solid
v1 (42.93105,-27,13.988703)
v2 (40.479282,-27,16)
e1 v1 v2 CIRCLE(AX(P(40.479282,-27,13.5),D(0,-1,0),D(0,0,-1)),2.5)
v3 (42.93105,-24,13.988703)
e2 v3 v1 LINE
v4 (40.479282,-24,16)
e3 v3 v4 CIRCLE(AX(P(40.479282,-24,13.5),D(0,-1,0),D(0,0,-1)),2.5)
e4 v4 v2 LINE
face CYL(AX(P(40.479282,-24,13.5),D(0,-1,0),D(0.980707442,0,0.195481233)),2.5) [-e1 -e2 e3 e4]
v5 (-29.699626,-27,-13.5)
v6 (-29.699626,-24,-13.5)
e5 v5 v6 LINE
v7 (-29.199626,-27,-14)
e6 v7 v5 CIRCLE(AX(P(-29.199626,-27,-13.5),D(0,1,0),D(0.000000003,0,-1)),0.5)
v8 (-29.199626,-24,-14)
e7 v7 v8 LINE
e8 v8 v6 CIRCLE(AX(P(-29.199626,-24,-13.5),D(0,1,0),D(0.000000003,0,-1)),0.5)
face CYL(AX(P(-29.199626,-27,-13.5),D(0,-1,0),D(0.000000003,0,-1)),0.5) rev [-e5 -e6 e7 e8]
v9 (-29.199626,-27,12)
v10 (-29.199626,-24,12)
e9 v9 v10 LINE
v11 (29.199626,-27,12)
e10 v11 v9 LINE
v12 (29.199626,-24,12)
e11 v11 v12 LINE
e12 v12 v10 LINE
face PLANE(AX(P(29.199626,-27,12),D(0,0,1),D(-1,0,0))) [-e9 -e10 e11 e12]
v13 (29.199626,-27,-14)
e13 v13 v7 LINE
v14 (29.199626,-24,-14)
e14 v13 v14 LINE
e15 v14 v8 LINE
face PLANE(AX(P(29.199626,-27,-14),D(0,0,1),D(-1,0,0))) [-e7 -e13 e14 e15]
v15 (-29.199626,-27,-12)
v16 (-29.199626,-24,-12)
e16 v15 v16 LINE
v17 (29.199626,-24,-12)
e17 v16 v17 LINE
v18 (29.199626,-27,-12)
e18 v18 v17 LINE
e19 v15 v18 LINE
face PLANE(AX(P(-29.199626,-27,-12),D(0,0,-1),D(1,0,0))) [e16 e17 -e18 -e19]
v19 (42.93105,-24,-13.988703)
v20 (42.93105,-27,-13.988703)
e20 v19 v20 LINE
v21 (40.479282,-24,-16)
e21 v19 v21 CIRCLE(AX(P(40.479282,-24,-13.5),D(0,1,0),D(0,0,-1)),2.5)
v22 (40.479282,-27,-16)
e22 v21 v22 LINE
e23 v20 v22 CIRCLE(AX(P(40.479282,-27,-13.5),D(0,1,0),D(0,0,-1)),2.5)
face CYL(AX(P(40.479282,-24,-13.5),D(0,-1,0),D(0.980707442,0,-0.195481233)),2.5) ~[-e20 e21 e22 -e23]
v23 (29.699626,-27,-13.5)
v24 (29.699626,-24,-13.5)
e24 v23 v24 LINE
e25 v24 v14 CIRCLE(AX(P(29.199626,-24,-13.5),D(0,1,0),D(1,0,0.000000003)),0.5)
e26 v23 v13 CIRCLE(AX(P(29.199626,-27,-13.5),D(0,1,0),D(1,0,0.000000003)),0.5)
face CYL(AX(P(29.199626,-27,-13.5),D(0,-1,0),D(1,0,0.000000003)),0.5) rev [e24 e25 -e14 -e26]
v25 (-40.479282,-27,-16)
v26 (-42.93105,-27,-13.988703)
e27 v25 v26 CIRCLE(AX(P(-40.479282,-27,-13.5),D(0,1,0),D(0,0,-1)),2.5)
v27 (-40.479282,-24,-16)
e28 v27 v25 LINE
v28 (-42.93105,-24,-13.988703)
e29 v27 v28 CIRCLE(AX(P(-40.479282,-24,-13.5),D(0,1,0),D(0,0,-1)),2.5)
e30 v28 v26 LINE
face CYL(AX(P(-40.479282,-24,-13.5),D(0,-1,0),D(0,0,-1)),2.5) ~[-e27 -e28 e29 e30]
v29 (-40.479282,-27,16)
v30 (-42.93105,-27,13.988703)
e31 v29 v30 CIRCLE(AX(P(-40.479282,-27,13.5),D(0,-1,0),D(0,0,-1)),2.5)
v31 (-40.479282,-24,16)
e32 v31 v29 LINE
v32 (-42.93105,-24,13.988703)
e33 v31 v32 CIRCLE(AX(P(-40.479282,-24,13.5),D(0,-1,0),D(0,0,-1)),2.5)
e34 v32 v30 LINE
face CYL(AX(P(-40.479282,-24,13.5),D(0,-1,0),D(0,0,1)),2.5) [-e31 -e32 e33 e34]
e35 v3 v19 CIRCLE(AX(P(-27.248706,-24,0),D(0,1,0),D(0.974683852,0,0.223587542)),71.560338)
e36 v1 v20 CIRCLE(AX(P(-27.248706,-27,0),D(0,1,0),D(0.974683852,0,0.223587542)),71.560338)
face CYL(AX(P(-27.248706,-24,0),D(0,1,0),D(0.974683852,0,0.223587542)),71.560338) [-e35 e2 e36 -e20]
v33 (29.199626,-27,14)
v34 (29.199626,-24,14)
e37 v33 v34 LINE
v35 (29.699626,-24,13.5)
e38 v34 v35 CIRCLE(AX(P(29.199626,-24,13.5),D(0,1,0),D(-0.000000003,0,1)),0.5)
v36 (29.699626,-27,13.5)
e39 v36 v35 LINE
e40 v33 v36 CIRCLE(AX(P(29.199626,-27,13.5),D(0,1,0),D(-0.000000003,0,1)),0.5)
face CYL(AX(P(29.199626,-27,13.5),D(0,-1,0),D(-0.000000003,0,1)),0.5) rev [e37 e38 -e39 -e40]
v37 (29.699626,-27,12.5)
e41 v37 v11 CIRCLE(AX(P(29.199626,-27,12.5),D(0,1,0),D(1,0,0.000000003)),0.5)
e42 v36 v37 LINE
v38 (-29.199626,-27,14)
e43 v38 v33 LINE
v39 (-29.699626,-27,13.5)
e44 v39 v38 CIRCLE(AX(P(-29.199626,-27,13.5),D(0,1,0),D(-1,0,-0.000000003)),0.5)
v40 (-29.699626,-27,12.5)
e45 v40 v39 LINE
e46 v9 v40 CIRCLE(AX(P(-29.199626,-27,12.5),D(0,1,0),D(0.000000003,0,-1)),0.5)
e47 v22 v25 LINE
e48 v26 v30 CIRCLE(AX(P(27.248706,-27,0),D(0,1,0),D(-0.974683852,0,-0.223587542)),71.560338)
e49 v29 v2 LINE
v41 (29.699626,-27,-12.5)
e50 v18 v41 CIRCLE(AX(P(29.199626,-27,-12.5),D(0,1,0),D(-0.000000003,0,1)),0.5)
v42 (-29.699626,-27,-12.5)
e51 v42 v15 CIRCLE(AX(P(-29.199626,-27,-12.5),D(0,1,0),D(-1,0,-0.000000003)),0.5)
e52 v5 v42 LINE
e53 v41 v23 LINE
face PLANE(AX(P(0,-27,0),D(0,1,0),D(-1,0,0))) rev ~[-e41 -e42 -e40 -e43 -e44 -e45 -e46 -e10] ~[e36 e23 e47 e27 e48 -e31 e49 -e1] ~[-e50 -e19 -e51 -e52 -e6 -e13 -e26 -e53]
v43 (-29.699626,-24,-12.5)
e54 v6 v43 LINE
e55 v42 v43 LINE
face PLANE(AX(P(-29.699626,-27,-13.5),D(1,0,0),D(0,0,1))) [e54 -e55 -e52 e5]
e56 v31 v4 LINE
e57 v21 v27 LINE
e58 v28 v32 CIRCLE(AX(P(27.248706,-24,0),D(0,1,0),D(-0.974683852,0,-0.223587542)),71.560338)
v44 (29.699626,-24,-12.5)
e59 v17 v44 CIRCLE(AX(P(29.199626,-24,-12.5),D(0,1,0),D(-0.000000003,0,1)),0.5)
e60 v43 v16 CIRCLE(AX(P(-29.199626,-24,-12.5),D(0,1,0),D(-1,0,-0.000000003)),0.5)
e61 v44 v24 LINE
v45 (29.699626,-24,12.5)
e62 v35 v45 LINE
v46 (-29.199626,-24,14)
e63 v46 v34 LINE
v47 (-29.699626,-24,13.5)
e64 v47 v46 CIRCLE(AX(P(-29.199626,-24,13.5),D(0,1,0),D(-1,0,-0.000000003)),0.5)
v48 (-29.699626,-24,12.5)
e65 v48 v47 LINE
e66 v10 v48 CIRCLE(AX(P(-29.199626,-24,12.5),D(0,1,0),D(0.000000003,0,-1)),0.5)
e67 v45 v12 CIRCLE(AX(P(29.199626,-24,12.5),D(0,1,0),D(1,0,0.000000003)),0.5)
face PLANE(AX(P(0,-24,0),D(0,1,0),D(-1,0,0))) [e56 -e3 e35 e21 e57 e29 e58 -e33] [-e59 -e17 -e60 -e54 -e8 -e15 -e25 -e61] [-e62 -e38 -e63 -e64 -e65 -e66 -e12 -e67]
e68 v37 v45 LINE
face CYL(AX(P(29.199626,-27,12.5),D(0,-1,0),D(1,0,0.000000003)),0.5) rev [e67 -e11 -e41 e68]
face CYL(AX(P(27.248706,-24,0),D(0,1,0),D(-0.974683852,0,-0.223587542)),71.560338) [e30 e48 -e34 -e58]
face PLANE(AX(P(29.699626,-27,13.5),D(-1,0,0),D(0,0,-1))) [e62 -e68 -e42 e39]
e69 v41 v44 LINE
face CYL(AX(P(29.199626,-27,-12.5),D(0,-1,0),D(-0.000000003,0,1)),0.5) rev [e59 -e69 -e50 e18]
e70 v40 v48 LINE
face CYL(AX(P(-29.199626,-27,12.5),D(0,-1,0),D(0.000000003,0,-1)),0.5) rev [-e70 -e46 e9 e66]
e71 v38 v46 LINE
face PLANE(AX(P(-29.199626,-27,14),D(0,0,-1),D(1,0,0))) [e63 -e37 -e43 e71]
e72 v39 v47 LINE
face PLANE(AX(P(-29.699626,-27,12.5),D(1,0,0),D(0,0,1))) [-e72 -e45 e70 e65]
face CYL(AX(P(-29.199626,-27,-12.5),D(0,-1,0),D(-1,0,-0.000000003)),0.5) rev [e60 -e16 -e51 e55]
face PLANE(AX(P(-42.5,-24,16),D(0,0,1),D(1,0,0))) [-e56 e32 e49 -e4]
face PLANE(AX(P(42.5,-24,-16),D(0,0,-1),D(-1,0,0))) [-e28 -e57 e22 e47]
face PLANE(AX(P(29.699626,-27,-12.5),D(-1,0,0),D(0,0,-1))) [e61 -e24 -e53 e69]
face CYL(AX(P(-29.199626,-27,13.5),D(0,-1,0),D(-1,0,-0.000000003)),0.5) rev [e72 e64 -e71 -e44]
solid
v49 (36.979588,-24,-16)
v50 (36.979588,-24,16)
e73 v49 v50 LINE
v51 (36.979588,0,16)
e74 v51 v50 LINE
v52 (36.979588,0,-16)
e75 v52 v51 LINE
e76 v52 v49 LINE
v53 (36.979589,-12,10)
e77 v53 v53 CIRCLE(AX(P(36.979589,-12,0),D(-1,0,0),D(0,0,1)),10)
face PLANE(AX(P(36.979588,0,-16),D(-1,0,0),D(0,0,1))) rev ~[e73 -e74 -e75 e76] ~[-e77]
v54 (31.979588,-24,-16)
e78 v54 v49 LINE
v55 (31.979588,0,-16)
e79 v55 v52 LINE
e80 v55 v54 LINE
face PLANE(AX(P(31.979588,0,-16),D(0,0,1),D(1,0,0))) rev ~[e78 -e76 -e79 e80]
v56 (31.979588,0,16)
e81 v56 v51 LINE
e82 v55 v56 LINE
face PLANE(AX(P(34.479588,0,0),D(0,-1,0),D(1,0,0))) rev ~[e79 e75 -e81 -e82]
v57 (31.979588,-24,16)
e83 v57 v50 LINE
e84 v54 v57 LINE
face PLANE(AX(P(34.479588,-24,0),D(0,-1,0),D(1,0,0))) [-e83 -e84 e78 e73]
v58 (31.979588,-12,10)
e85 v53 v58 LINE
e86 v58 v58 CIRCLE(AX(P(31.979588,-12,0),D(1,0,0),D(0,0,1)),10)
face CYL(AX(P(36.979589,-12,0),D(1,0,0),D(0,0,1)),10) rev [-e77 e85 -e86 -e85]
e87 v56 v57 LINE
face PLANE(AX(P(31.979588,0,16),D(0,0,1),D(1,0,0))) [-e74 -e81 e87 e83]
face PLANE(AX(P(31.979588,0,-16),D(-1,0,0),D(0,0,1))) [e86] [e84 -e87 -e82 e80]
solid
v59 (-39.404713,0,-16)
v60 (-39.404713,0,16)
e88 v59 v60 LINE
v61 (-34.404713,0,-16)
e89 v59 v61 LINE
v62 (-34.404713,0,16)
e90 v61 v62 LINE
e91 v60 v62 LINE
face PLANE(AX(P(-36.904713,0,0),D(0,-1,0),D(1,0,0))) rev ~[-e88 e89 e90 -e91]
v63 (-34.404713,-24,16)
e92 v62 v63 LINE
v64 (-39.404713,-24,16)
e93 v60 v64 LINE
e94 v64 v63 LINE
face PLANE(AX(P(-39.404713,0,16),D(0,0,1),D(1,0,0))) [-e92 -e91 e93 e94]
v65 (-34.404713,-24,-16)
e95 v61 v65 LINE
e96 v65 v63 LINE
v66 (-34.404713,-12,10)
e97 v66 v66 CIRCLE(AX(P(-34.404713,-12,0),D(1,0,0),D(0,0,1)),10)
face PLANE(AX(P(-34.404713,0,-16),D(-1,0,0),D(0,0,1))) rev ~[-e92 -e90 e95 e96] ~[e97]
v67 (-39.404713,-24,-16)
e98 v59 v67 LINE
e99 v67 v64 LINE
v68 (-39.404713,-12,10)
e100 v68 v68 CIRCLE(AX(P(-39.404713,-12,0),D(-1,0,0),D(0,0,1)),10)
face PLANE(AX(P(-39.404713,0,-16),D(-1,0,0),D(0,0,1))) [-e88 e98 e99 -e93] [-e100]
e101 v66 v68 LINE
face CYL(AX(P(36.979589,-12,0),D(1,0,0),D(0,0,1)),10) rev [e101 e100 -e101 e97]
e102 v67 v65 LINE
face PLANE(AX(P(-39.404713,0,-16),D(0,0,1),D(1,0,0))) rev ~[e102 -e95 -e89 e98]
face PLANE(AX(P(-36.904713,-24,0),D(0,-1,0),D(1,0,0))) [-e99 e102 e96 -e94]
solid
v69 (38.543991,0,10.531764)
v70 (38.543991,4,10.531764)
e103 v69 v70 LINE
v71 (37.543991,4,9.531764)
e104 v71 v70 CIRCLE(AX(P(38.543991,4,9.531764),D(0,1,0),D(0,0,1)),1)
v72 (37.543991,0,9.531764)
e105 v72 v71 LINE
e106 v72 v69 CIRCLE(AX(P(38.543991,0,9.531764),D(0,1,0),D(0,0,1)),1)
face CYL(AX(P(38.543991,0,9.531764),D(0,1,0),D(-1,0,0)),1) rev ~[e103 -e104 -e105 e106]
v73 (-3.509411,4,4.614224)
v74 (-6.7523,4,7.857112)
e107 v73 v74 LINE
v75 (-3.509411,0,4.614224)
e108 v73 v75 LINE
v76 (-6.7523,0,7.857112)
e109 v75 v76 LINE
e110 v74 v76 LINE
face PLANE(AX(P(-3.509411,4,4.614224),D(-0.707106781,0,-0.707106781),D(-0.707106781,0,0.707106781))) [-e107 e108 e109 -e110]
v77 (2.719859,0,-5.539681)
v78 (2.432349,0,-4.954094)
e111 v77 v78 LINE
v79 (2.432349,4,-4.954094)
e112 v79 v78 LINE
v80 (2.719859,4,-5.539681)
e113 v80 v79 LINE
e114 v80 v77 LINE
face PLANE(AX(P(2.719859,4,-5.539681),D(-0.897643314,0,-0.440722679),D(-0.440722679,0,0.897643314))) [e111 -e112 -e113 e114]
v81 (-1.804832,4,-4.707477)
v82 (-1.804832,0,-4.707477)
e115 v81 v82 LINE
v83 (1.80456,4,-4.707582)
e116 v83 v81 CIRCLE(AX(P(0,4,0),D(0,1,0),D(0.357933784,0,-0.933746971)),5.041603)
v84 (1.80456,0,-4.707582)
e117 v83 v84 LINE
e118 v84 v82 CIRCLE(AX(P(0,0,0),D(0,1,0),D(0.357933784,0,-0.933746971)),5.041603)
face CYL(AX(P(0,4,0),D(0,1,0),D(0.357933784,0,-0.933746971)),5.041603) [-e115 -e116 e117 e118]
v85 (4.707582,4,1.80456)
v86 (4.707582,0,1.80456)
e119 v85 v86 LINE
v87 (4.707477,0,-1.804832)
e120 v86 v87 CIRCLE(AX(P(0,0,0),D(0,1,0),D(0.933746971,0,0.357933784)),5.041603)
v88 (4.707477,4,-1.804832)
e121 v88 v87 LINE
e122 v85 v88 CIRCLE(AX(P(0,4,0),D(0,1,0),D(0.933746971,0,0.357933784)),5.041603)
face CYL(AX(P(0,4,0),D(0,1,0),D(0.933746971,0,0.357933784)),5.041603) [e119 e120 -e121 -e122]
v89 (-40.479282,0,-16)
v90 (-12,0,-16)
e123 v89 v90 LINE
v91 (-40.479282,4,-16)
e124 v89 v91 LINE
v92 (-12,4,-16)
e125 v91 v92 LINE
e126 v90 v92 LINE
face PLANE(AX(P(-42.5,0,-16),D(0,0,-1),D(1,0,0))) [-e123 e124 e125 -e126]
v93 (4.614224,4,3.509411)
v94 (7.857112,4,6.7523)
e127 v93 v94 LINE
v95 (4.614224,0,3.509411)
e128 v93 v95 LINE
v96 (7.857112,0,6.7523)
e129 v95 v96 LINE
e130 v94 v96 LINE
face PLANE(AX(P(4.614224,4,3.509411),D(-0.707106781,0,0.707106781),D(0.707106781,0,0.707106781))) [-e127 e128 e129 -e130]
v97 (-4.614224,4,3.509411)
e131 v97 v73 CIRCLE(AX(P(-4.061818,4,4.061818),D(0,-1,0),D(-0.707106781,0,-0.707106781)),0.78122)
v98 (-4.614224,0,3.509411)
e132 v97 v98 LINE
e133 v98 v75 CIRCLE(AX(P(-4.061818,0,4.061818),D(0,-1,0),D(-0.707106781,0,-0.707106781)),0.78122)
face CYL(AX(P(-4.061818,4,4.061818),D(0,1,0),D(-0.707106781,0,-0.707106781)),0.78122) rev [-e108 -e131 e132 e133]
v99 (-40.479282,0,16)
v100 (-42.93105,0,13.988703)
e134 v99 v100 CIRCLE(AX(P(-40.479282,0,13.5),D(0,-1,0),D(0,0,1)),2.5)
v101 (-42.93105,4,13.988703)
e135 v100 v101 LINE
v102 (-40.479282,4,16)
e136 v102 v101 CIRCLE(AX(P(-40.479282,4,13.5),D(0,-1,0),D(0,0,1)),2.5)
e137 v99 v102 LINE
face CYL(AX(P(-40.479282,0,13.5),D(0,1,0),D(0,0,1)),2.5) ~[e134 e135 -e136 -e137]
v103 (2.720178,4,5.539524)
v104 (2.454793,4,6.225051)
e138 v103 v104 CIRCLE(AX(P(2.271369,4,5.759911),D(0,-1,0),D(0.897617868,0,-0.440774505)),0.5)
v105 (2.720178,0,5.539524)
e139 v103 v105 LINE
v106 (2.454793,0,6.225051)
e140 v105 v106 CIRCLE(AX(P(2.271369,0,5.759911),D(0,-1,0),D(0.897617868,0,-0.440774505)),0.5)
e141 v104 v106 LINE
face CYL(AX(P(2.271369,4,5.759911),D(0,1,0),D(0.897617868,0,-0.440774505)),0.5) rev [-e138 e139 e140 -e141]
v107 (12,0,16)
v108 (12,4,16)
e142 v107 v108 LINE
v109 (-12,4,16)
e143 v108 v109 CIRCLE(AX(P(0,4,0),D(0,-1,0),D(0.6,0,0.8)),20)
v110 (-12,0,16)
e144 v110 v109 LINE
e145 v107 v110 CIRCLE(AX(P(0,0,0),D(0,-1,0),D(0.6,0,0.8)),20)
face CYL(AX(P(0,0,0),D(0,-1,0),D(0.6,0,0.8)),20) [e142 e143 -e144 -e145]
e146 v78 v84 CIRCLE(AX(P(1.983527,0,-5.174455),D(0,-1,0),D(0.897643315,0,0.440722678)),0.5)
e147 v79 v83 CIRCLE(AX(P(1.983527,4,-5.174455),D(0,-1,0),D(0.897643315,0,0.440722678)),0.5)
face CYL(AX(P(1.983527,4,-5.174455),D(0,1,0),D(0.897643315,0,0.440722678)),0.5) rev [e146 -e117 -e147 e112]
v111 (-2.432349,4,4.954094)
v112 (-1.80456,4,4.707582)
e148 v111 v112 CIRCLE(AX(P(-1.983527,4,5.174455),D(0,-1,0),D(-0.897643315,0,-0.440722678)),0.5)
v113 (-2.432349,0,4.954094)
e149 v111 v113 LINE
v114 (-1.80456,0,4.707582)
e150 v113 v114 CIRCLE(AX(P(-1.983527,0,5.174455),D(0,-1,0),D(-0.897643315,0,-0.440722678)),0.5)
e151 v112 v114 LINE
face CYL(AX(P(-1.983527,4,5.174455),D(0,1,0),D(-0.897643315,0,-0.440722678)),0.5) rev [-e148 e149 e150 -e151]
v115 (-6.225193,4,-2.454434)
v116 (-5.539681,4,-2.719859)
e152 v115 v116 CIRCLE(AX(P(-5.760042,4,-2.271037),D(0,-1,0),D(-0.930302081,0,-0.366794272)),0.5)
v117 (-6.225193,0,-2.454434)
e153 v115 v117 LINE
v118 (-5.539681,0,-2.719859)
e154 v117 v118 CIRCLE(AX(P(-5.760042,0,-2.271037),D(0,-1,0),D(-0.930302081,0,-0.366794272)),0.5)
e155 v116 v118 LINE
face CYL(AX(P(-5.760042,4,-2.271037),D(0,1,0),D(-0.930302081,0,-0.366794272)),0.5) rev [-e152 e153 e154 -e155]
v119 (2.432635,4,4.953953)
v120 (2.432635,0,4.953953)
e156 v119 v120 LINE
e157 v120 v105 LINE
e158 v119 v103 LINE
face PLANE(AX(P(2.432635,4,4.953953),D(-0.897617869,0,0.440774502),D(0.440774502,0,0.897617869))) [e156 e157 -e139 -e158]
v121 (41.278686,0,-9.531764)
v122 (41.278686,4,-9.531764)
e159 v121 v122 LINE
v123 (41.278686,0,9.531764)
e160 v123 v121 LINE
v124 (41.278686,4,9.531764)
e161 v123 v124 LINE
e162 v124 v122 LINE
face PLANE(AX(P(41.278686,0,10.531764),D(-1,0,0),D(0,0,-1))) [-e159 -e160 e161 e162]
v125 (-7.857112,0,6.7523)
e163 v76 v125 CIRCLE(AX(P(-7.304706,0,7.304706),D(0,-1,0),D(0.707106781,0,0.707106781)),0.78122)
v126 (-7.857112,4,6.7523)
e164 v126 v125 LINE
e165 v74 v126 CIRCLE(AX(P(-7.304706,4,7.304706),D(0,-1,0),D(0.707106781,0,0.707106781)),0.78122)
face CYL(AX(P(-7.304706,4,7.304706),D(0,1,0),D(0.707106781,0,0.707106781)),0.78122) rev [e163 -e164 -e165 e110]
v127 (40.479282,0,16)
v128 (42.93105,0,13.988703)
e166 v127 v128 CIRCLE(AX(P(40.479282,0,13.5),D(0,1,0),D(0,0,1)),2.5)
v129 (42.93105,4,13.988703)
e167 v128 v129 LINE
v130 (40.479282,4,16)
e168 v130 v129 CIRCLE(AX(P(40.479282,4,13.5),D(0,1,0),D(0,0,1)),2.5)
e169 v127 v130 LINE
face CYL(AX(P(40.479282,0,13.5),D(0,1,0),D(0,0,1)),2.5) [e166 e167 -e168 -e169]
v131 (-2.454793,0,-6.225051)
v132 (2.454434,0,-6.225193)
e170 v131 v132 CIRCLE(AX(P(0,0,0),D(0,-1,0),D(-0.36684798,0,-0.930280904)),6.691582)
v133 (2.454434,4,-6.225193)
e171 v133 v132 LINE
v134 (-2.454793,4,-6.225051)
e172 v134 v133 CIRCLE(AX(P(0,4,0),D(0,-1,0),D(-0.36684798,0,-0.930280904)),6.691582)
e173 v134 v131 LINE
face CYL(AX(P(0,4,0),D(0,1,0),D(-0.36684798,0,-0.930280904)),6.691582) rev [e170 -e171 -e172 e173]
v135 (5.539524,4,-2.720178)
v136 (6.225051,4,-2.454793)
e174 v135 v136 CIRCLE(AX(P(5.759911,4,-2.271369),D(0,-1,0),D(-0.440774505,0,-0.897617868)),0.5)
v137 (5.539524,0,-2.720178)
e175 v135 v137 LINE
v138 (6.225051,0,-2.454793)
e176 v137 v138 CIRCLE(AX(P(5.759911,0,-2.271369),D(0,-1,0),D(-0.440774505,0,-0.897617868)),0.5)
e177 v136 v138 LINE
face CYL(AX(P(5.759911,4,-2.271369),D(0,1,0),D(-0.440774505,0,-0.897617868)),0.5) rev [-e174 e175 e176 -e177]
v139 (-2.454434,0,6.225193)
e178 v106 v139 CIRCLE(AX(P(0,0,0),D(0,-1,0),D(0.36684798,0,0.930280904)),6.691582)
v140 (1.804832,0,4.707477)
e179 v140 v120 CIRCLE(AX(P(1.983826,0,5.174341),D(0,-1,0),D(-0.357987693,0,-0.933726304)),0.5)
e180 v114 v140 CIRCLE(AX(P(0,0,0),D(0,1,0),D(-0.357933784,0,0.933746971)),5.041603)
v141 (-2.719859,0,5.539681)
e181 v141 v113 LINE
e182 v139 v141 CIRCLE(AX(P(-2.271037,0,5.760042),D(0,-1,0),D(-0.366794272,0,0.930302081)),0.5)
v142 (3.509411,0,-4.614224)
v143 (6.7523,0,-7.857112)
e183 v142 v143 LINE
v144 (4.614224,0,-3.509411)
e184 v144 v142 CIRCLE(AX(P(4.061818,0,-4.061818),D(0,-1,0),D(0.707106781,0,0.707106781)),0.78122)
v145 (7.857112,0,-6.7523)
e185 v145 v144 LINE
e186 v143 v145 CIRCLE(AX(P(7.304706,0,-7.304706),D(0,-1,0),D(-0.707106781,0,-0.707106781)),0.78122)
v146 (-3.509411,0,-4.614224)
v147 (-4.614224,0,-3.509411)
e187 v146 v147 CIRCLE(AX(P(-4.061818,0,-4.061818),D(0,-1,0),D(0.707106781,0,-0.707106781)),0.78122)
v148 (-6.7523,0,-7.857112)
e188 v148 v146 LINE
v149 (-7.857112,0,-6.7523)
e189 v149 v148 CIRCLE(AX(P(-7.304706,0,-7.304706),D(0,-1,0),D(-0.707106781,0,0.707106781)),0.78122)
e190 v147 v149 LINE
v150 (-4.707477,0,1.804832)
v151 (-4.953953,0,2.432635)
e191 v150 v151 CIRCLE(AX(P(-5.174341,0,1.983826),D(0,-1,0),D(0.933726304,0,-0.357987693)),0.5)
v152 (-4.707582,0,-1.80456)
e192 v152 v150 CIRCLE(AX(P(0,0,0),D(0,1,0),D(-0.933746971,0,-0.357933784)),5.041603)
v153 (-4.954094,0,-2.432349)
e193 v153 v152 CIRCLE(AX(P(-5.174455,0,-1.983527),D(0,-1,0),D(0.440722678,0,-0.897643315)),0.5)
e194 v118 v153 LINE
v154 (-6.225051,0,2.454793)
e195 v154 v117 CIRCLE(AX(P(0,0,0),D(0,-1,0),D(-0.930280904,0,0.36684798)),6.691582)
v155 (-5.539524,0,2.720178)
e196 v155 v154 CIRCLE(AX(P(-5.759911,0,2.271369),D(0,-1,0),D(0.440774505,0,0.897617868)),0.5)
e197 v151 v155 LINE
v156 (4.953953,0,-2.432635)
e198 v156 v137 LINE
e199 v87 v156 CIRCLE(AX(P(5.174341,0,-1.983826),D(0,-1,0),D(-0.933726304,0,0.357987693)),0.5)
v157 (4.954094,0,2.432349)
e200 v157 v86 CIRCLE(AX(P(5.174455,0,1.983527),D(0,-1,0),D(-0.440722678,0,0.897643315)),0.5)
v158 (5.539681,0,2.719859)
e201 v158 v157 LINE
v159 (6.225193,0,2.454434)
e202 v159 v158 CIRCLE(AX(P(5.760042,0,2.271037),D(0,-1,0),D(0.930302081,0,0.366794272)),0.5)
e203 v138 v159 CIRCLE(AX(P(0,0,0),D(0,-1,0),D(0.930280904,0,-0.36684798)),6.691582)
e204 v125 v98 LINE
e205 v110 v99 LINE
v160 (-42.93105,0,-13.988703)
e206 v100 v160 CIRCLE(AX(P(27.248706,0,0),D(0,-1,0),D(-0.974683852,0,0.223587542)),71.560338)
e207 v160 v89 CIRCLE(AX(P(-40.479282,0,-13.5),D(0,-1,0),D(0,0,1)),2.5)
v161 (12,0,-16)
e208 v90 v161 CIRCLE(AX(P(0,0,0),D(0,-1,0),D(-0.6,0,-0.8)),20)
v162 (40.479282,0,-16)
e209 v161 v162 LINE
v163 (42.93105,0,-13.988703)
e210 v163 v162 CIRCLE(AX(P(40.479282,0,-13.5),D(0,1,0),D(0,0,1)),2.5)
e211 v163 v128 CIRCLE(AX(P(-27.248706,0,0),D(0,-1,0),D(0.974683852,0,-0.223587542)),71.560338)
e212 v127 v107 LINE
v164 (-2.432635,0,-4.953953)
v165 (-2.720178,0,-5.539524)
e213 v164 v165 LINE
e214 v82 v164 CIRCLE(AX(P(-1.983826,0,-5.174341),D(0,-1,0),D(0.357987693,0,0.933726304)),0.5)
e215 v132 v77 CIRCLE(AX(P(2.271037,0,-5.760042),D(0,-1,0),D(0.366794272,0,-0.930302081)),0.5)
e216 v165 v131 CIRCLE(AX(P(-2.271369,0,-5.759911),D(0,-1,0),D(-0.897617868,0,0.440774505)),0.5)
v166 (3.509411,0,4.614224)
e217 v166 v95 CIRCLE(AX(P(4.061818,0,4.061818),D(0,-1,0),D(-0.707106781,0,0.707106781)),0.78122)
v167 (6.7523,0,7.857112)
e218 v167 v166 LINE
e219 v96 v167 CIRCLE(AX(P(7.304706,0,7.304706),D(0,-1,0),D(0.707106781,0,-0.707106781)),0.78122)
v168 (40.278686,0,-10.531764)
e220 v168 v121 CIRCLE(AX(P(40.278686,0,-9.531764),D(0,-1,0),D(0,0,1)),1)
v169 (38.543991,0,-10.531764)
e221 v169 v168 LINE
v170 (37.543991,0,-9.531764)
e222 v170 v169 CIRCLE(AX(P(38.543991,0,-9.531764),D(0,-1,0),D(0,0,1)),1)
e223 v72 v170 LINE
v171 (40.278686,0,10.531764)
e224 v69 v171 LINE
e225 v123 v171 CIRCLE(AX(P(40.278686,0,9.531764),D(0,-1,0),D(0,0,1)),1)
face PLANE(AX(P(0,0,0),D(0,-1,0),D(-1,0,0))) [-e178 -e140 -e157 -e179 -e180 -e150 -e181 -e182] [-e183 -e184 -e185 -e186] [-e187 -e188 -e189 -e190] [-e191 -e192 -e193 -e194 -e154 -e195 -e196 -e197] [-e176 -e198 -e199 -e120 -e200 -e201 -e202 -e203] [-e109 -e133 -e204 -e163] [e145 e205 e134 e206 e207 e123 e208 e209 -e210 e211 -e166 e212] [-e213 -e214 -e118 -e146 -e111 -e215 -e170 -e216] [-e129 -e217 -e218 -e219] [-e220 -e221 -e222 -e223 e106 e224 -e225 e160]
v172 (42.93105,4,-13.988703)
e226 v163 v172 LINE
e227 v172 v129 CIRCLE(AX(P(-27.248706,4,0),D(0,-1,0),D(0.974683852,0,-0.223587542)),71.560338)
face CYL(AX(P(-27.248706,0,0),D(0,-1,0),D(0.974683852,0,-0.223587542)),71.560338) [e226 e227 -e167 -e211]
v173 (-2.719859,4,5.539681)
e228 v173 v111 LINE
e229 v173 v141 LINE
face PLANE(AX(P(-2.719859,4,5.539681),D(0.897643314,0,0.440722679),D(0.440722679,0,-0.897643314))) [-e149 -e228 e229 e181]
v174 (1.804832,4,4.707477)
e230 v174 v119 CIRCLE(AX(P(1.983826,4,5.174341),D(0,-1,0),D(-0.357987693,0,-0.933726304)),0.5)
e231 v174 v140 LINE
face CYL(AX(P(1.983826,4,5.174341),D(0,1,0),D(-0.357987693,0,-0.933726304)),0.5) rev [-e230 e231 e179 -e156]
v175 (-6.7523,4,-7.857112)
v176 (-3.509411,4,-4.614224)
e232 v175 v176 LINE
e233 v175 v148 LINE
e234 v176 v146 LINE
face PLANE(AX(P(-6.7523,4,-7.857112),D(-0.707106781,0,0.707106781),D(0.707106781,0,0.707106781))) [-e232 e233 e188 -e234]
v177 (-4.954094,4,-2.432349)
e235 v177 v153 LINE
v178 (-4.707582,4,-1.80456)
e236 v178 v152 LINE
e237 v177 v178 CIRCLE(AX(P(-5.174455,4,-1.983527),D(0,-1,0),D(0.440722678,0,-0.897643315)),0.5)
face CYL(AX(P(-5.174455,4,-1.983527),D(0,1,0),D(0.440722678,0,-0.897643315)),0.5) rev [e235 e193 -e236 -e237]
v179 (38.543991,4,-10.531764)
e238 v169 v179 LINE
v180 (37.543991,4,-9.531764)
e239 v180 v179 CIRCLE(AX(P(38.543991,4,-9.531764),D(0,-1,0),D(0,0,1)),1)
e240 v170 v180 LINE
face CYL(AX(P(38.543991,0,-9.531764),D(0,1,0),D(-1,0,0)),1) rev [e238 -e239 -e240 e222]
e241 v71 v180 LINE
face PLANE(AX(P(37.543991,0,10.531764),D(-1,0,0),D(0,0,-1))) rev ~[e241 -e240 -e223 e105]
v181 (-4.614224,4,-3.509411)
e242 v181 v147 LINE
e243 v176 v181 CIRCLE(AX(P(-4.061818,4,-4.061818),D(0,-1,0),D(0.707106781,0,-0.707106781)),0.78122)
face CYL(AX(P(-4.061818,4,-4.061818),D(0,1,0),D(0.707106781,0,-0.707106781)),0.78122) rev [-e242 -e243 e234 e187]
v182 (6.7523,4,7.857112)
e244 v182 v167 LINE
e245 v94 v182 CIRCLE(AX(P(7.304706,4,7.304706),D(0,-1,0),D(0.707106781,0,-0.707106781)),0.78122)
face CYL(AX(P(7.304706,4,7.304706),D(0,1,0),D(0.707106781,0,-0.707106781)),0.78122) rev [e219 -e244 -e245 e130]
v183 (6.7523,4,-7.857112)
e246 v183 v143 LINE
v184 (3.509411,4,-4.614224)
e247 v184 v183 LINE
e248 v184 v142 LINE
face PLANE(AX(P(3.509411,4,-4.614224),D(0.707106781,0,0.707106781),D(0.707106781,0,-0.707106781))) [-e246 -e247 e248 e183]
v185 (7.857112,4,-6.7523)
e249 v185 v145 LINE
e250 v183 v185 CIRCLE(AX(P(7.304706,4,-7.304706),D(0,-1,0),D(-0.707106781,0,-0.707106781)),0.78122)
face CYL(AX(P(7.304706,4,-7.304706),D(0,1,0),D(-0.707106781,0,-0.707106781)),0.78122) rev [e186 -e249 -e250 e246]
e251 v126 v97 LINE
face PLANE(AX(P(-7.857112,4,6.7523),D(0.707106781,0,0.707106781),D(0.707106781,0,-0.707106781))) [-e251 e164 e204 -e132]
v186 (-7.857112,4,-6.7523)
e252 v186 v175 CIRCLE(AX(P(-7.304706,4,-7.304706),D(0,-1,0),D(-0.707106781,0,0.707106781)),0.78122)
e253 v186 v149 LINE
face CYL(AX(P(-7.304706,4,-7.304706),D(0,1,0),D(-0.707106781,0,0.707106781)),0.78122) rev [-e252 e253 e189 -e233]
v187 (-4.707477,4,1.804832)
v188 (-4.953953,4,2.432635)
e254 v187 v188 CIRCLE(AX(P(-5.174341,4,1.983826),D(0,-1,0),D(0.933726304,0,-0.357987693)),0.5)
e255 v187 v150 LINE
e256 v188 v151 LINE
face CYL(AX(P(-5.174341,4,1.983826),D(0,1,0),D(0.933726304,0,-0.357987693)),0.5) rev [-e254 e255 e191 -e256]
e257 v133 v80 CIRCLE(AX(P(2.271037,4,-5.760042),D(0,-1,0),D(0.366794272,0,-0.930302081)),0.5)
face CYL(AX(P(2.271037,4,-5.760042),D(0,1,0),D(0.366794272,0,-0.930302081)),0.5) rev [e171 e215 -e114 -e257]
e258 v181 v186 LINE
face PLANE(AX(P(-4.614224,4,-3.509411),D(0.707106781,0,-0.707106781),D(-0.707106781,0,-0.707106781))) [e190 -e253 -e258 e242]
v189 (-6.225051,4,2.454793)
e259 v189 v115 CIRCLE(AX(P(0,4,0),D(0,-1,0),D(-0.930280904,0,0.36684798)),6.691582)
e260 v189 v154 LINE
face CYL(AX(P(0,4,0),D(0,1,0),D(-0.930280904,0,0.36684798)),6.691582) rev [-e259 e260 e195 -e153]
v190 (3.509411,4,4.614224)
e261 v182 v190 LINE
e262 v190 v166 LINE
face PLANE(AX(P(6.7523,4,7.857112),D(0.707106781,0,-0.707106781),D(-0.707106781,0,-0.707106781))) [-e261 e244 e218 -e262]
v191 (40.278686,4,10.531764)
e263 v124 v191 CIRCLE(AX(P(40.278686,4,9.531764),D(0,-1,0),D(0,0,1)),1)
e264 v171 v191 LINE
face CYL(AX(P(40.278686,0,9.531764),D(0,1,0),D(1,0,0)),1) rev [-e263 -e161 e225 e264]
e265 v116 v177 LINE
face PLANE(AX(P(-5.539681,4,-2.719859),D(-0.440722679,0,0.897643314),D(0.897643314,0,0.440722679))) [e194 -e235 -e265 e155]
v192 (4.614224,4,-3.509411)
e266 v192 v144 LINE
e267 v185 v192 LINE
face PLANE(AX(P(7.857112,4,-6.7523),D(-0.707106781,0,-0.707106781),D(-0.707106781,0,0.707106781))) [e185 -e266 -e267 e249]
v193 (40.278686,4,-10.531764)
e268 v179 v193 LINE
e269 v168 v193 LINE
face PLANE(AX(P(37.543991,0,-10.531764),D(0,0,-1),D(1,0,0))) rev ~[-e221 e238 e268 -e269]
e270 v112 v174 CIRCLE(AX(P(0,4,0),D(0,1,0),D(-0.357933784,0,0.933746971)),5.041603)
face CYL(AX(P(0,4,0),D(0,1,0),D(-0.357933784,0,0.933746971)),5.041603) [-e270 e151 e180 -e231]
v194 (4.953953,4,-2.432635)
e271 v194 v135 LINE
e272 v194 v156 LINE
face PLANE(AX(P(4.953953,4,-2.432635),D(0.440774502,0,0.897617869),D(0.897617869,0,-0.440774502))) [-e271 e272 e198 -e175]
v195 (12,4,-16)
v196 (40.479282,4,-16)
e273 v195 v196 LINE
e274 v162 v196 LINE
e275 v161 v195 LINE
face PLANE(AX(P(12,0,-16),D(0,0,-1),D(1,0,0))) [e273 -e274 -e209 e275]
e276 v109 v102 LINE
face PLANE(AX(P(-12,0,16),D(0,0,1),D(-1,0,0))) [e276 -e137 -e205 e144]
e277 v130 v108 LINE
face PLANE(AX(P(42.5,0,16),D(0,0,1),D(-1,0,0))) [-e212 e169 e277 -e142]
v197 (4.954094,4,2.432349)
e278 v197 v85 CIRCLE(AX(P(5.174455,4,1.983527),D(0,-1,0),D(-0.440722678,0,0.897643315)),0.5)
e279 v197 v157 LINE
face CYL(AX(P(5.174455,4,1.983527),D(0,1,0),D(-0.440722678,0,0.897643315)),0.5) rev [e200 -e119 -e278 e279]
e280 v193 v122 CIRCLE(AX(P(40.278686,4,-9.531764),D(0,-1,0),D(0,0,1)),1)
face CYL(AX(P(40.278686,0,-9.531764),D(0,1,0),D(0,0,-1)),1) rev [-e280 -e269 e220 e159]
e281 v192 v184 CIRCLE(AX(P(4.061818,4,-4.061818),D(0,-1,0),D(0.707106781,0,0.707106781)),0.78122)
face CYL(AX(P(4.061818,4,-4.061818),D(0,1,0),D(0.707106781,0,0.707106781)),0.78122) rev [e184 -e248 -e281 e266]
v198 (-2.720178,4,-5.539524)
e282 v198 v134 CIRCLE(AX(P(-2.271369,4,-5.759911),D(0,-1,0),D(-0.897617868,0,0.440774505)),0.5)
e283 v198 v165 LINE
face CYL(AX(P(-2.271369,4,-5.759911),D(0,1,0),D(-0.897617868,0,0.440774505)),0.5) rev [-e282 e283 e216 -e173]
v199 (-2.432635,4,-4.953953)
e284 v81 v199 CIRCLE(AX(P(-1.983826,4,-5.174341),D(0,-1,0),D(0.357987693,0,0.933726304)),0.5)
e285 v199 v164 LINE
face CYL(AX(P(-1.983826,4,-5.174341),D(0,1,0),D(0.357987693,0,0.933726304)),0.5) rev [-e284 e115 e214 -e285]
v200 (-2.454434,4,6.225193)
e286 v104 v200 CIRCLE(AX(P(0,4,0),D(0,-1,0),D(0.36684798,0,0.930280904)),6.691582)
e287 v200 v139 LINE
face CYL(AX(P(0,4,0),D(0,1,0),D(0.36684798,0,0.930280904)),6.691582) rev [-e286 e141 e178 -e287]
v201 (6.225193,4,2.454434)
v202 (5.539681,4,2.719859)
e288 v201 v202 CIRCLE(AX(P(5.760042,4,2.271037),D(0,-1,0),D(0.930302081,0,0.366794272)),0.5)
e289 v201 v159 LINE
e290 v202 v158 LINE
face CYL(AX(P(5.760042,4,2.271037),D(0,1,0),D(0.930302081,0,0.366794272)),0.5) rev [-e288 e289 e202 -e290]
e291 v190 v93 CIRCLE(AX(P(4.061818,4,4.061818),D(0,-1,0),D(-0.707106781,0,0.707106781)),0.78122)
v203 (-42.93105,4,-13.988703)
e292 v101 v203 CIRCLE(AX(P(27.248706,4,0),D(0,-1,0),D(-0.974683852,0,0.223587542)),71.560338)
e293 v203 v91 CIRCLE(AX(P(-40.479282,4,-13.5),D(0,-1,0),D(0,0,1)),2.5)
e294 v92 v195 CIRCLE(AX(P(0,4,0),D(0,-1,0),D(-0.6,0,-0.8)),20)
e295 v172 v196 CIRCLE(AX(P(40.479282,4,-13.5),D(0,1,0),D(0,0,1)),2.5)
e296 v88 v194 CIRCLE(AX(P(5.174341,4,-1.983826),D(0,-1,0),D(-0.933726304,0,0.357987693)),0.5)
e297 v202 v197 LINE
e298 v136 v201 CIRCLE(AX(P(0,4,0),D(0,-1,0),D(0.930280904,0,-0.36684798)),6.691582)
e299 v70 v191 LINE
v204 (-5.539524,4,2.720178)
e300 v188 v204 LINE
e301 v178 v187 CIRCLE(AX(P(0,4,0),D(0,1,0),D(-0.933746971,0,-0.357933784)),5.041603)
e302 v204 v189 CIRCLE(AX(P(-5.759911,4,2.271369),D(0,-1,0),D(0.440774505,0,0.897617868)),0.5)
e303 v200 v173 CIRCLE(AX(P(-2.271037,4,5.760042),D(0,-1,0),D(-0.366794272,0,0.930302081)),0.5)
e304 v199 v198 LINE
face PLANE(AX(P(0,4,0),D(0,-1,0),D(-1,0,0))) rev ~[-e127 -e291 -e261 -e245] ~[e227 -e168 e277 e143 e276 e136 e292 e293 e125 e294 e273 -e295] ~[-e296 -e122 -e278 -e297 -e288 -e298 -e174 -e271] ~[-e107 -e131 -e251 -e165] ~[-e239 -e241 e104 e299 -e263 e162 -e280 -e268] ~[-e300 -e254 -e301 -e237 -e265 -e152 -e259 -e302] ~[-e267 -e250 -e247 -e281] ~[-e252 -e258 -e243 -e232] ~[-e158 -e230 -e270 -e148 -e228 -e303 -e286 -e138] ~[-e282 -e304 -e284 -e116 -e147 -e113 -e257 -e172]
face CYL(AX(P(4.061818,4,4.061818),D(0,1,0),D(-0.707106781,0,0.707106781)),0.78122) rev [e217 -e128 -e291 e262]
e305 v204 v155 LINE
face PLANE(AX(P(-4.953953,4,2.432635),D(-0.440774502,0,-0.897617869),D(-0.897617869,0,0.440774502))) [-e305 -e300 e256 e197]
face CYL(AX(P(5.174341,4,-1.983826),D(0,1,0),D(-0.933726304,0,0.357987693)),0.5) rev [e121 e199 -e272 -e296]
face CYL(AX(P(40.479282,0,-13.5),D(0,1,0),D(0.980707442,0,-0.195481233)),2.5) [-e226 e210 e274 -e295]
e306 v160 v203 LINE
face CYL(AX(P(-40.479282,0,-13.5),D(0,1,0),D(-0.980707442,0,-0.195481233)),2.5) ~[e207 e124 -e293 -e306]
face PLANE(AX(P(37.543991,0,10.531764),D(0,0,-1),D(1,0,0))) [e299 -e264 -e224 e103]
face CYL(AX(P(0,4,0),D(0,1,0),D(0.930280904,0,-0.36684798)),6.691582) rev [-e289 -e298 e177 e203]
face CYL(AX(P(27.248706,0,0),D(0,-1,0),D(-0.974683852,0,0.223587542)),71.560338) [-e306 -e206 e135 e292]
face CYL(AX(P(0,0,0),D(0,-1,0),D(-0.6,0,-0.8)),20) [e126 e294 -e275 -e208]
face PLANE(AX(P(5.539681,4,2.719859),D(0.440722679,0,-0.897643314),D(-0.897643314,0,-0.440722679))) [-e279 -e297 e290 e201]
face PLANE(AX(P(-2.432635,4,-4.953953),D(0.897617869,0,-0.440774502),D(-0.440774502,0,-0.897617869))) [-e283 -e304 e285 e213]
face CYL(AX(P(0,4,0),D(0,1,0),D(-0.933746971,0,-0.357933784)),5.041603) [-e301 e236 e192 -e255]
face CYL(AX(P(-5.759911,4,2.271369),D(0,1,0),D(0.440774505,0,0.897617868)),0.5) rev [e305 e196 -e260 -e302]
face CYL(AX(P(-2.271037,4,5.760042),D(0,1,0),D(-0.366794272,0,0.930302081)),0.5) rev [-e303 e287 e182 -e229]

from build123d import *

# Parameters (mm, degrees)
SKETCH3_W             = 3.734694983
SKETCH3_H             = 21.06352889
BOSS_EXTRUDE1_DEPTH   = 4
SKETCH4_W             = 5
SKETCH4_H             = 32
BOSS_EXTRUDE2_DEPTH   = 24
BOSS_EXTRUDE2_2_DEPTH = 24
BOSS_EXTRUDE3_DEPTH   = 3
CUT_EXTRUDE1_DEPTH    = 3
FILLET3_R             = 2.5
FILLET4_R             = 2.5
FILLET5_R             = 1
CUT_EXTRUDE2_DEPTH    = 4
CUT_EXTRUDE3_START    = -76.384302
SKETCH8_R             = 10
CUT_EXTRUDE3_DEPTH    = 76.384302


with BuildPart() as part:
    # Sketch3 → Boss-Extrude1 (new body)
    with BuildSketch(Plane(origin=(0, 0, 0), x_dir=(1, 0, 0), z_dir=(0, 1, 0))):
        with BuildLine():
            Line((-12, -16), (-42.5, -16))
            ThreePointArc((-42.5, -16), (-44.311632106, 0), (-42.5, 16))
            Line((-42.5, 16), (-12, 16))
            ThreePointArc((-12, 16), (0, 20), (12, 16))
            Line((12, 16), (42.5, 16))
            ThreePointArc((42.5, 16), (44.311632106, 0), (42.5, -16))
            Line((42.5, -16), (12, -16))
            ThreePointArc((12, -16), (0, -20), (-12, -16))
        make_face()
        with Locations((39.411338735, 0)):
            Rectangle(SKETCH3_W, SKETCH3_H, mode=Mode.SUBTRACT)
    extrude(amount=BOSS_EXTRUDE1_DEPTH)

    # Fillet4
    fillet4_edges = [part.edges().sort_by_distance(p)[0] for p in [
        (-42.5, 2, -16),
        (42.5, 2, -16),
        (42.5, 2, 16),
        (-42.5, 2, 16),
    ]]
    fillet(fillet4_edges, radius=FILLET4_R)

    # Fillet5
    fillet5_edges = [part.edges().sort_by_distance(p)[0] for p in [
        (41.278686226, 2, 10.531764445),
        (41.278686226, 2, -10.531764445),
        (37.543991243, 2, -10.531764445),
        (37.543991243, 2, 10.531764445),
    ]]
    fillet(fillet5_edges, radius=FILLET5_R)

    # Sketch7 → Cut-Extrude2 (cut)
    with BuildSketch(Plane(origin=(0, 4, 0), x_dir=(1, 0, 0), z_dir=(0, 1, 0))):
        with BuildLine():
            Line((4.614223874, -3.509411454), (7.857111921, -6.752299502))
            ThreePointArc((7.857111921, -6.752299502), (7.857111921, -7.857111921), (6.752299502, -7.857111921))
            Line((6.752299502, -7.857111921), (3.509411454, -4.614223874))
            ThreePointArc((3.509411454, -4.614223874), (3.509411454, -3.509411454), (4.614223874, -3.509411454))
        make_face()
        with BuildLine():
            Line((-2.432634641, 4.953953344), (-2.720178393, 5.539523536))
            ThreePointArc((-2.720178393, 5.539523536), (-2.73764907, 5.940419304), (-2.454793449, 6.225051239))
            ThreePointArc((-2.454793449, 6.225051239), (-0.000193165, 6.691582307), (2.45443405, 6.225192953))
            ThreePointArc((2.45443405, 6.225192953), (2.737306103, 5.940577348), (2.719858572, 5.539680573))
            Line((2.719858572, 5.539680573), (2.432348627, 4.954093781))
            ThreePointArc((2.432348627, 4.954093781), (2.166276684, 4.709049338), (1.804560078, 4.707581634))
            ThreePointArc((1.804560078, 4.707581634), (-0.000145535, 5.041603108), (-1.804831861, 4.707477443))
            ThreePointArc((-1.804831861, 4.707477443), (-2.166548551, 4.708924263), (-2.432634641, 4.953953344))
        make_face()
        with BuildLine():
            Line((4.953953344, 2.432634641), (5.539523536, 2.720178393))
            ThreePointArc((5.539523536, 2.720178393), (5.940419304, 2.73764907), (6.225051239, 2.454793449))
            ThreePointArc((6.225051239, 2.454793449), (6.691582307, 0.000193165), (6.225192953, -2.45443405))
            ThreePointArc((6.225192953, -2.45443405), (5.940577348, -2.737306103), (5.539680573, -2.719858572))
            Line((5.539680573, -2.719858572), (4.954093781, -2.432348627))
            ThreePointArc((4.954093781, -2.432348627), (4.709049338, -2.166276684), (4.707581634, -1.804560078))
            ThreePointArc((4.707581634, -1.804560078), (5.041603108, 0.000145535), (4.707477443, 1.804831861))
            ThreePointArc((4.707477443, 1.804831861), (4.708924263, 2.166548551), (4.953953344, 2.432634641))
        make_face()
        with BuildLine():
            Line((2.432634641, -4.953953344), (2.720178393, -5.539523536))
            ThreePointArc((2.720178393, -5.539523536), (2.73764907, -5.940419304), (2.454793449, -6.225051239))
            ThreePointArc((2.454793449, -6.225051239), (0.000193165, -6.691582307), (-2.45443405, -6.225192953))
            ThreePointArc((-2.45443405, -6.225192953), (-2.737306103, -5.940577348), (-2.719858572, -5.539680573))
            Line((-2.719858572, -5.539680573), (-2.432348627, -4.954093781))
            ThreePointArc((-2.432348627, -4.954093781), (-2.166276684, -4.709049338), (-1.804560078, -4.707581634))
            ThreePointArc((-1.804560078, -4.707581634), (0.000145535, -5.041603108), (1.804831861, -4.707477443))
            ThreePointArc((1.804831861, -4.707477443), (2.166548551, -4.708924263), (2.432634641, -4.953953344))
        make_face()
        with BuildLine():
            Line((-4.953953344, -2.432634641), (-5.539523536, -2.720178393))
            ThreePointArc((-5.539523536, -2.720178393), (-5.940419304, -2.73764907), (-6.225051239, -2.454793449))
            ThreePointArc((-6.225051239, -2.454793449), (-6.691582307, -0.000193165), (-6.225192953, 2.45443405))
            ThreePointArc((-6.225192953, 2.45443405), (-5.940577348, 2.737306103), (-5.539680573, 2.719858572))
            Line((-5.539680573, 2.719858572), (-4.954093781, 2.432348627))
            ThreePointArc((-4.954093781, 2.432348627), (-4.709049338, 2.166276684), (-4.707581634, 1.804560078))
            ThreePointArc((-4.707581634, 1.804560078), (-5.041603108, -0.000145535), (-4.707477443, -1.804831861))
            ThreePointArc((-4.707477443, -1.804831861), (-4.708924263, -2.166548551), (-4.953953344, -2.432634641))
        make_face()
        with BuildLine():
            Line((3.509411454, 4.614223874), (6.752299502, 7.857111921))
            ThreePointArc((6.752299502, 7.857111921), (7.857111921, 7.857111921), (7.857111921, 6.752299502))
            Line((7.857111921, 6.752299502), (4.614223874, 3.509411454))
            ThreePointArc((4.614223874, 3.509411454), (3.509411454, 3.509411454), (3.509411454, 4.614223874))
        make_face()
        with BuildLine():
            Line((-3.509411454, -4.614223874), (-6.752299502, -7.857111921))
            ThreePointArc((-6.752299502, -7.857111921), (-7.857111921, -7.857111921), (-7.857111921, -6.752299502))
            Line((-7.857111921, -6.752299502), (-4.614223874, -3.509411454))
            ThreePointArc((-4.614223874, -3.509411454), (-3.509411454, -3.509411454), (-3.509411454, -4.614223874))
        make_face()
        with BuildLine():
            Line((-4.614223874, 3.509411454), (-7.857111921, 6.752299502))
            ThreePointArc((-7.857111921, 6.752299502), (-7.857111921, 7.857111921), (-6.752299502, 7.857111921))
            Line((-6.752299502, 7.857111921), (-3.509411454, 4.614223874))
            ThreePointArc((-3.509411454, 4.614223874), (-3.509411454, 3.509411454), (-4.614223874, 3.509411454))
        make_face()
    extrude(amount=-CUT_EXTRUDE2_DEPTH, mode=Mode.SUBTRACT)


with BuildPart() as body_2:
    # Sketch4 → Boss-Extrude2 (new body)
    with BuildSketch(Plane.XZ):
        with Locations((-36.904713213, 0)):
            Rectangle(SKETCH4_W, SKETCH4_H)
    extrude(amount=BOSS_EXTRUDE2_DEPTH)


with BuildPart() as body_3:
    # Sketch4 → Boss-Extrude2 2 (new body)
    with BuildSketch(Plane.XZ):
        with Locations((34.479588459, 0)):
            Rectangle(SKETCH4_W, SKETCH4_H)
    extrude(amount=BOSS_EXTRUDE2_2_DEPTH)


with BuildPart() as body_4:
    # Sketch5 → Boss-Extrude3 (new body)
    with BuildSketch(Plane.XZ.offset(24)):
        with BuildLine():
            Line((-12, 16), (12, 16))
            Line((12, 16), (42.5, 16))
            ThreePointArc((42.5, 16), (44.311632106, 0), (42.5, -16))
            Line((42.5, -16), (12, -16))
            Line((12, -16), (-12, -16))
            Line((-12, -16), (-42.5, -16))
            ThreePointArc((-42.5, -16), (-44.311632106, 0), (-42.5, 16))
            Line((-42.5, 16), (-12, 16))
        make_face()
    extrude(amount=BOSS_EXTRUDE3_DEPTH)

    # Sketch6 → Cut-Extrude1 (cut)
    with BuildSketch(Plane.XZ.offset(27)):
        with BuildLine():
            Line((-29.199625594, -12), (29.199625594, -12))
            ThreePointArc((29.199625594, -12), (29.553178985, -12.146446609), (29.699625594, -12.5))
            Line((29.699625594, -12.5), (29.699625594, -13.5))
            ThreePointArc((29.699625594, -13.5), (29.553178985, -13.853553391), (29.199625594, -14))
            Line((29.199625594, -14), (-29.199625594, -14))
            ThreePointArc((-29.199625594, -14), (-29.553178985, -13.853553391), (-29.699625594, -13.5))
            Line((-29.699625594, -13.5), (-29.699625594, -12.5))
            ThreePointArc((-29.699625594, -12.5), (-29.553178985, -12.146446609), (-29.199625594, -12))
        make_face()
        with BuildLine():
            Line((-29.199625594, 14), (29.199625594, 14))
            ThreePointArc((29.199625594, 14), (29.553178985, 13.853553391), (29.699625594, 13.5))
            Line((29.699625594, 13.5), (29.699625594, 12.5))
            ThreePointArc((29.699625594, 12.5), (29.553178985, 12.146446609), (29.199625594, 12))
            Line((29.199625594, 12), (-29.199625594, 12))
            ThreePointArc((-29.199625594, 12), (-29.553178985, 12.146446609), (-29.699625594, 12.5))
            Line((-29.699625594, 12.5), (-29.699625594, 13.5))
            ThreePointArc((-29.699625594, 13.5), (-29.553178985, 13.853553391), (-29.199625594, 14))
        make_face()
    extrude(amount=-CUT_EXTRUDE1_DEPTH, mode=Mode.SUBTRACT)

    # Fillet3
    fillet3_edges = [body_4.edges().sort_by_distance(p)[0] for p in [
        (-42.5, -25.5, 16),
        (42.5, -25.5, 16),
        (42.5, -25.5, -16),
        (-42.5, -25.5, -16),
    ]]
    fillet(fillet3_edges, radius=FILLET3_R)


with BuildPart() as cut_extrude3_tool:
    # Sketch8 → Cut-Extrude3 (new body)
    with BuildSketch(Plane.ZY.offset(39.404713213).offset(CUT_EXTRUDE3_START)):
        with Locations((0, -12)):
            Circle(SKETCH8_R)
    extrude(amount=CUT_EXTRUDE3_DEPTH)


with BuildPart() as body_2_1:
    add(body_2.part)

    # Cut-Extrude3: cut by cut_extrude3_tool
    add(cut_extrude3_tool.part, mode=Mode.SUBTRACT)


with BuildPart() as body_3_1:
    add(body_3.part)

    # Cut-Extrude3: cut by cut_extrude3_tool
    add(cut_extrude3_tool.part, mode=Mode.SUBTRACT)


solid = Compound([part.part, body_4.part, body_2_1.part, body_3_1.part])
